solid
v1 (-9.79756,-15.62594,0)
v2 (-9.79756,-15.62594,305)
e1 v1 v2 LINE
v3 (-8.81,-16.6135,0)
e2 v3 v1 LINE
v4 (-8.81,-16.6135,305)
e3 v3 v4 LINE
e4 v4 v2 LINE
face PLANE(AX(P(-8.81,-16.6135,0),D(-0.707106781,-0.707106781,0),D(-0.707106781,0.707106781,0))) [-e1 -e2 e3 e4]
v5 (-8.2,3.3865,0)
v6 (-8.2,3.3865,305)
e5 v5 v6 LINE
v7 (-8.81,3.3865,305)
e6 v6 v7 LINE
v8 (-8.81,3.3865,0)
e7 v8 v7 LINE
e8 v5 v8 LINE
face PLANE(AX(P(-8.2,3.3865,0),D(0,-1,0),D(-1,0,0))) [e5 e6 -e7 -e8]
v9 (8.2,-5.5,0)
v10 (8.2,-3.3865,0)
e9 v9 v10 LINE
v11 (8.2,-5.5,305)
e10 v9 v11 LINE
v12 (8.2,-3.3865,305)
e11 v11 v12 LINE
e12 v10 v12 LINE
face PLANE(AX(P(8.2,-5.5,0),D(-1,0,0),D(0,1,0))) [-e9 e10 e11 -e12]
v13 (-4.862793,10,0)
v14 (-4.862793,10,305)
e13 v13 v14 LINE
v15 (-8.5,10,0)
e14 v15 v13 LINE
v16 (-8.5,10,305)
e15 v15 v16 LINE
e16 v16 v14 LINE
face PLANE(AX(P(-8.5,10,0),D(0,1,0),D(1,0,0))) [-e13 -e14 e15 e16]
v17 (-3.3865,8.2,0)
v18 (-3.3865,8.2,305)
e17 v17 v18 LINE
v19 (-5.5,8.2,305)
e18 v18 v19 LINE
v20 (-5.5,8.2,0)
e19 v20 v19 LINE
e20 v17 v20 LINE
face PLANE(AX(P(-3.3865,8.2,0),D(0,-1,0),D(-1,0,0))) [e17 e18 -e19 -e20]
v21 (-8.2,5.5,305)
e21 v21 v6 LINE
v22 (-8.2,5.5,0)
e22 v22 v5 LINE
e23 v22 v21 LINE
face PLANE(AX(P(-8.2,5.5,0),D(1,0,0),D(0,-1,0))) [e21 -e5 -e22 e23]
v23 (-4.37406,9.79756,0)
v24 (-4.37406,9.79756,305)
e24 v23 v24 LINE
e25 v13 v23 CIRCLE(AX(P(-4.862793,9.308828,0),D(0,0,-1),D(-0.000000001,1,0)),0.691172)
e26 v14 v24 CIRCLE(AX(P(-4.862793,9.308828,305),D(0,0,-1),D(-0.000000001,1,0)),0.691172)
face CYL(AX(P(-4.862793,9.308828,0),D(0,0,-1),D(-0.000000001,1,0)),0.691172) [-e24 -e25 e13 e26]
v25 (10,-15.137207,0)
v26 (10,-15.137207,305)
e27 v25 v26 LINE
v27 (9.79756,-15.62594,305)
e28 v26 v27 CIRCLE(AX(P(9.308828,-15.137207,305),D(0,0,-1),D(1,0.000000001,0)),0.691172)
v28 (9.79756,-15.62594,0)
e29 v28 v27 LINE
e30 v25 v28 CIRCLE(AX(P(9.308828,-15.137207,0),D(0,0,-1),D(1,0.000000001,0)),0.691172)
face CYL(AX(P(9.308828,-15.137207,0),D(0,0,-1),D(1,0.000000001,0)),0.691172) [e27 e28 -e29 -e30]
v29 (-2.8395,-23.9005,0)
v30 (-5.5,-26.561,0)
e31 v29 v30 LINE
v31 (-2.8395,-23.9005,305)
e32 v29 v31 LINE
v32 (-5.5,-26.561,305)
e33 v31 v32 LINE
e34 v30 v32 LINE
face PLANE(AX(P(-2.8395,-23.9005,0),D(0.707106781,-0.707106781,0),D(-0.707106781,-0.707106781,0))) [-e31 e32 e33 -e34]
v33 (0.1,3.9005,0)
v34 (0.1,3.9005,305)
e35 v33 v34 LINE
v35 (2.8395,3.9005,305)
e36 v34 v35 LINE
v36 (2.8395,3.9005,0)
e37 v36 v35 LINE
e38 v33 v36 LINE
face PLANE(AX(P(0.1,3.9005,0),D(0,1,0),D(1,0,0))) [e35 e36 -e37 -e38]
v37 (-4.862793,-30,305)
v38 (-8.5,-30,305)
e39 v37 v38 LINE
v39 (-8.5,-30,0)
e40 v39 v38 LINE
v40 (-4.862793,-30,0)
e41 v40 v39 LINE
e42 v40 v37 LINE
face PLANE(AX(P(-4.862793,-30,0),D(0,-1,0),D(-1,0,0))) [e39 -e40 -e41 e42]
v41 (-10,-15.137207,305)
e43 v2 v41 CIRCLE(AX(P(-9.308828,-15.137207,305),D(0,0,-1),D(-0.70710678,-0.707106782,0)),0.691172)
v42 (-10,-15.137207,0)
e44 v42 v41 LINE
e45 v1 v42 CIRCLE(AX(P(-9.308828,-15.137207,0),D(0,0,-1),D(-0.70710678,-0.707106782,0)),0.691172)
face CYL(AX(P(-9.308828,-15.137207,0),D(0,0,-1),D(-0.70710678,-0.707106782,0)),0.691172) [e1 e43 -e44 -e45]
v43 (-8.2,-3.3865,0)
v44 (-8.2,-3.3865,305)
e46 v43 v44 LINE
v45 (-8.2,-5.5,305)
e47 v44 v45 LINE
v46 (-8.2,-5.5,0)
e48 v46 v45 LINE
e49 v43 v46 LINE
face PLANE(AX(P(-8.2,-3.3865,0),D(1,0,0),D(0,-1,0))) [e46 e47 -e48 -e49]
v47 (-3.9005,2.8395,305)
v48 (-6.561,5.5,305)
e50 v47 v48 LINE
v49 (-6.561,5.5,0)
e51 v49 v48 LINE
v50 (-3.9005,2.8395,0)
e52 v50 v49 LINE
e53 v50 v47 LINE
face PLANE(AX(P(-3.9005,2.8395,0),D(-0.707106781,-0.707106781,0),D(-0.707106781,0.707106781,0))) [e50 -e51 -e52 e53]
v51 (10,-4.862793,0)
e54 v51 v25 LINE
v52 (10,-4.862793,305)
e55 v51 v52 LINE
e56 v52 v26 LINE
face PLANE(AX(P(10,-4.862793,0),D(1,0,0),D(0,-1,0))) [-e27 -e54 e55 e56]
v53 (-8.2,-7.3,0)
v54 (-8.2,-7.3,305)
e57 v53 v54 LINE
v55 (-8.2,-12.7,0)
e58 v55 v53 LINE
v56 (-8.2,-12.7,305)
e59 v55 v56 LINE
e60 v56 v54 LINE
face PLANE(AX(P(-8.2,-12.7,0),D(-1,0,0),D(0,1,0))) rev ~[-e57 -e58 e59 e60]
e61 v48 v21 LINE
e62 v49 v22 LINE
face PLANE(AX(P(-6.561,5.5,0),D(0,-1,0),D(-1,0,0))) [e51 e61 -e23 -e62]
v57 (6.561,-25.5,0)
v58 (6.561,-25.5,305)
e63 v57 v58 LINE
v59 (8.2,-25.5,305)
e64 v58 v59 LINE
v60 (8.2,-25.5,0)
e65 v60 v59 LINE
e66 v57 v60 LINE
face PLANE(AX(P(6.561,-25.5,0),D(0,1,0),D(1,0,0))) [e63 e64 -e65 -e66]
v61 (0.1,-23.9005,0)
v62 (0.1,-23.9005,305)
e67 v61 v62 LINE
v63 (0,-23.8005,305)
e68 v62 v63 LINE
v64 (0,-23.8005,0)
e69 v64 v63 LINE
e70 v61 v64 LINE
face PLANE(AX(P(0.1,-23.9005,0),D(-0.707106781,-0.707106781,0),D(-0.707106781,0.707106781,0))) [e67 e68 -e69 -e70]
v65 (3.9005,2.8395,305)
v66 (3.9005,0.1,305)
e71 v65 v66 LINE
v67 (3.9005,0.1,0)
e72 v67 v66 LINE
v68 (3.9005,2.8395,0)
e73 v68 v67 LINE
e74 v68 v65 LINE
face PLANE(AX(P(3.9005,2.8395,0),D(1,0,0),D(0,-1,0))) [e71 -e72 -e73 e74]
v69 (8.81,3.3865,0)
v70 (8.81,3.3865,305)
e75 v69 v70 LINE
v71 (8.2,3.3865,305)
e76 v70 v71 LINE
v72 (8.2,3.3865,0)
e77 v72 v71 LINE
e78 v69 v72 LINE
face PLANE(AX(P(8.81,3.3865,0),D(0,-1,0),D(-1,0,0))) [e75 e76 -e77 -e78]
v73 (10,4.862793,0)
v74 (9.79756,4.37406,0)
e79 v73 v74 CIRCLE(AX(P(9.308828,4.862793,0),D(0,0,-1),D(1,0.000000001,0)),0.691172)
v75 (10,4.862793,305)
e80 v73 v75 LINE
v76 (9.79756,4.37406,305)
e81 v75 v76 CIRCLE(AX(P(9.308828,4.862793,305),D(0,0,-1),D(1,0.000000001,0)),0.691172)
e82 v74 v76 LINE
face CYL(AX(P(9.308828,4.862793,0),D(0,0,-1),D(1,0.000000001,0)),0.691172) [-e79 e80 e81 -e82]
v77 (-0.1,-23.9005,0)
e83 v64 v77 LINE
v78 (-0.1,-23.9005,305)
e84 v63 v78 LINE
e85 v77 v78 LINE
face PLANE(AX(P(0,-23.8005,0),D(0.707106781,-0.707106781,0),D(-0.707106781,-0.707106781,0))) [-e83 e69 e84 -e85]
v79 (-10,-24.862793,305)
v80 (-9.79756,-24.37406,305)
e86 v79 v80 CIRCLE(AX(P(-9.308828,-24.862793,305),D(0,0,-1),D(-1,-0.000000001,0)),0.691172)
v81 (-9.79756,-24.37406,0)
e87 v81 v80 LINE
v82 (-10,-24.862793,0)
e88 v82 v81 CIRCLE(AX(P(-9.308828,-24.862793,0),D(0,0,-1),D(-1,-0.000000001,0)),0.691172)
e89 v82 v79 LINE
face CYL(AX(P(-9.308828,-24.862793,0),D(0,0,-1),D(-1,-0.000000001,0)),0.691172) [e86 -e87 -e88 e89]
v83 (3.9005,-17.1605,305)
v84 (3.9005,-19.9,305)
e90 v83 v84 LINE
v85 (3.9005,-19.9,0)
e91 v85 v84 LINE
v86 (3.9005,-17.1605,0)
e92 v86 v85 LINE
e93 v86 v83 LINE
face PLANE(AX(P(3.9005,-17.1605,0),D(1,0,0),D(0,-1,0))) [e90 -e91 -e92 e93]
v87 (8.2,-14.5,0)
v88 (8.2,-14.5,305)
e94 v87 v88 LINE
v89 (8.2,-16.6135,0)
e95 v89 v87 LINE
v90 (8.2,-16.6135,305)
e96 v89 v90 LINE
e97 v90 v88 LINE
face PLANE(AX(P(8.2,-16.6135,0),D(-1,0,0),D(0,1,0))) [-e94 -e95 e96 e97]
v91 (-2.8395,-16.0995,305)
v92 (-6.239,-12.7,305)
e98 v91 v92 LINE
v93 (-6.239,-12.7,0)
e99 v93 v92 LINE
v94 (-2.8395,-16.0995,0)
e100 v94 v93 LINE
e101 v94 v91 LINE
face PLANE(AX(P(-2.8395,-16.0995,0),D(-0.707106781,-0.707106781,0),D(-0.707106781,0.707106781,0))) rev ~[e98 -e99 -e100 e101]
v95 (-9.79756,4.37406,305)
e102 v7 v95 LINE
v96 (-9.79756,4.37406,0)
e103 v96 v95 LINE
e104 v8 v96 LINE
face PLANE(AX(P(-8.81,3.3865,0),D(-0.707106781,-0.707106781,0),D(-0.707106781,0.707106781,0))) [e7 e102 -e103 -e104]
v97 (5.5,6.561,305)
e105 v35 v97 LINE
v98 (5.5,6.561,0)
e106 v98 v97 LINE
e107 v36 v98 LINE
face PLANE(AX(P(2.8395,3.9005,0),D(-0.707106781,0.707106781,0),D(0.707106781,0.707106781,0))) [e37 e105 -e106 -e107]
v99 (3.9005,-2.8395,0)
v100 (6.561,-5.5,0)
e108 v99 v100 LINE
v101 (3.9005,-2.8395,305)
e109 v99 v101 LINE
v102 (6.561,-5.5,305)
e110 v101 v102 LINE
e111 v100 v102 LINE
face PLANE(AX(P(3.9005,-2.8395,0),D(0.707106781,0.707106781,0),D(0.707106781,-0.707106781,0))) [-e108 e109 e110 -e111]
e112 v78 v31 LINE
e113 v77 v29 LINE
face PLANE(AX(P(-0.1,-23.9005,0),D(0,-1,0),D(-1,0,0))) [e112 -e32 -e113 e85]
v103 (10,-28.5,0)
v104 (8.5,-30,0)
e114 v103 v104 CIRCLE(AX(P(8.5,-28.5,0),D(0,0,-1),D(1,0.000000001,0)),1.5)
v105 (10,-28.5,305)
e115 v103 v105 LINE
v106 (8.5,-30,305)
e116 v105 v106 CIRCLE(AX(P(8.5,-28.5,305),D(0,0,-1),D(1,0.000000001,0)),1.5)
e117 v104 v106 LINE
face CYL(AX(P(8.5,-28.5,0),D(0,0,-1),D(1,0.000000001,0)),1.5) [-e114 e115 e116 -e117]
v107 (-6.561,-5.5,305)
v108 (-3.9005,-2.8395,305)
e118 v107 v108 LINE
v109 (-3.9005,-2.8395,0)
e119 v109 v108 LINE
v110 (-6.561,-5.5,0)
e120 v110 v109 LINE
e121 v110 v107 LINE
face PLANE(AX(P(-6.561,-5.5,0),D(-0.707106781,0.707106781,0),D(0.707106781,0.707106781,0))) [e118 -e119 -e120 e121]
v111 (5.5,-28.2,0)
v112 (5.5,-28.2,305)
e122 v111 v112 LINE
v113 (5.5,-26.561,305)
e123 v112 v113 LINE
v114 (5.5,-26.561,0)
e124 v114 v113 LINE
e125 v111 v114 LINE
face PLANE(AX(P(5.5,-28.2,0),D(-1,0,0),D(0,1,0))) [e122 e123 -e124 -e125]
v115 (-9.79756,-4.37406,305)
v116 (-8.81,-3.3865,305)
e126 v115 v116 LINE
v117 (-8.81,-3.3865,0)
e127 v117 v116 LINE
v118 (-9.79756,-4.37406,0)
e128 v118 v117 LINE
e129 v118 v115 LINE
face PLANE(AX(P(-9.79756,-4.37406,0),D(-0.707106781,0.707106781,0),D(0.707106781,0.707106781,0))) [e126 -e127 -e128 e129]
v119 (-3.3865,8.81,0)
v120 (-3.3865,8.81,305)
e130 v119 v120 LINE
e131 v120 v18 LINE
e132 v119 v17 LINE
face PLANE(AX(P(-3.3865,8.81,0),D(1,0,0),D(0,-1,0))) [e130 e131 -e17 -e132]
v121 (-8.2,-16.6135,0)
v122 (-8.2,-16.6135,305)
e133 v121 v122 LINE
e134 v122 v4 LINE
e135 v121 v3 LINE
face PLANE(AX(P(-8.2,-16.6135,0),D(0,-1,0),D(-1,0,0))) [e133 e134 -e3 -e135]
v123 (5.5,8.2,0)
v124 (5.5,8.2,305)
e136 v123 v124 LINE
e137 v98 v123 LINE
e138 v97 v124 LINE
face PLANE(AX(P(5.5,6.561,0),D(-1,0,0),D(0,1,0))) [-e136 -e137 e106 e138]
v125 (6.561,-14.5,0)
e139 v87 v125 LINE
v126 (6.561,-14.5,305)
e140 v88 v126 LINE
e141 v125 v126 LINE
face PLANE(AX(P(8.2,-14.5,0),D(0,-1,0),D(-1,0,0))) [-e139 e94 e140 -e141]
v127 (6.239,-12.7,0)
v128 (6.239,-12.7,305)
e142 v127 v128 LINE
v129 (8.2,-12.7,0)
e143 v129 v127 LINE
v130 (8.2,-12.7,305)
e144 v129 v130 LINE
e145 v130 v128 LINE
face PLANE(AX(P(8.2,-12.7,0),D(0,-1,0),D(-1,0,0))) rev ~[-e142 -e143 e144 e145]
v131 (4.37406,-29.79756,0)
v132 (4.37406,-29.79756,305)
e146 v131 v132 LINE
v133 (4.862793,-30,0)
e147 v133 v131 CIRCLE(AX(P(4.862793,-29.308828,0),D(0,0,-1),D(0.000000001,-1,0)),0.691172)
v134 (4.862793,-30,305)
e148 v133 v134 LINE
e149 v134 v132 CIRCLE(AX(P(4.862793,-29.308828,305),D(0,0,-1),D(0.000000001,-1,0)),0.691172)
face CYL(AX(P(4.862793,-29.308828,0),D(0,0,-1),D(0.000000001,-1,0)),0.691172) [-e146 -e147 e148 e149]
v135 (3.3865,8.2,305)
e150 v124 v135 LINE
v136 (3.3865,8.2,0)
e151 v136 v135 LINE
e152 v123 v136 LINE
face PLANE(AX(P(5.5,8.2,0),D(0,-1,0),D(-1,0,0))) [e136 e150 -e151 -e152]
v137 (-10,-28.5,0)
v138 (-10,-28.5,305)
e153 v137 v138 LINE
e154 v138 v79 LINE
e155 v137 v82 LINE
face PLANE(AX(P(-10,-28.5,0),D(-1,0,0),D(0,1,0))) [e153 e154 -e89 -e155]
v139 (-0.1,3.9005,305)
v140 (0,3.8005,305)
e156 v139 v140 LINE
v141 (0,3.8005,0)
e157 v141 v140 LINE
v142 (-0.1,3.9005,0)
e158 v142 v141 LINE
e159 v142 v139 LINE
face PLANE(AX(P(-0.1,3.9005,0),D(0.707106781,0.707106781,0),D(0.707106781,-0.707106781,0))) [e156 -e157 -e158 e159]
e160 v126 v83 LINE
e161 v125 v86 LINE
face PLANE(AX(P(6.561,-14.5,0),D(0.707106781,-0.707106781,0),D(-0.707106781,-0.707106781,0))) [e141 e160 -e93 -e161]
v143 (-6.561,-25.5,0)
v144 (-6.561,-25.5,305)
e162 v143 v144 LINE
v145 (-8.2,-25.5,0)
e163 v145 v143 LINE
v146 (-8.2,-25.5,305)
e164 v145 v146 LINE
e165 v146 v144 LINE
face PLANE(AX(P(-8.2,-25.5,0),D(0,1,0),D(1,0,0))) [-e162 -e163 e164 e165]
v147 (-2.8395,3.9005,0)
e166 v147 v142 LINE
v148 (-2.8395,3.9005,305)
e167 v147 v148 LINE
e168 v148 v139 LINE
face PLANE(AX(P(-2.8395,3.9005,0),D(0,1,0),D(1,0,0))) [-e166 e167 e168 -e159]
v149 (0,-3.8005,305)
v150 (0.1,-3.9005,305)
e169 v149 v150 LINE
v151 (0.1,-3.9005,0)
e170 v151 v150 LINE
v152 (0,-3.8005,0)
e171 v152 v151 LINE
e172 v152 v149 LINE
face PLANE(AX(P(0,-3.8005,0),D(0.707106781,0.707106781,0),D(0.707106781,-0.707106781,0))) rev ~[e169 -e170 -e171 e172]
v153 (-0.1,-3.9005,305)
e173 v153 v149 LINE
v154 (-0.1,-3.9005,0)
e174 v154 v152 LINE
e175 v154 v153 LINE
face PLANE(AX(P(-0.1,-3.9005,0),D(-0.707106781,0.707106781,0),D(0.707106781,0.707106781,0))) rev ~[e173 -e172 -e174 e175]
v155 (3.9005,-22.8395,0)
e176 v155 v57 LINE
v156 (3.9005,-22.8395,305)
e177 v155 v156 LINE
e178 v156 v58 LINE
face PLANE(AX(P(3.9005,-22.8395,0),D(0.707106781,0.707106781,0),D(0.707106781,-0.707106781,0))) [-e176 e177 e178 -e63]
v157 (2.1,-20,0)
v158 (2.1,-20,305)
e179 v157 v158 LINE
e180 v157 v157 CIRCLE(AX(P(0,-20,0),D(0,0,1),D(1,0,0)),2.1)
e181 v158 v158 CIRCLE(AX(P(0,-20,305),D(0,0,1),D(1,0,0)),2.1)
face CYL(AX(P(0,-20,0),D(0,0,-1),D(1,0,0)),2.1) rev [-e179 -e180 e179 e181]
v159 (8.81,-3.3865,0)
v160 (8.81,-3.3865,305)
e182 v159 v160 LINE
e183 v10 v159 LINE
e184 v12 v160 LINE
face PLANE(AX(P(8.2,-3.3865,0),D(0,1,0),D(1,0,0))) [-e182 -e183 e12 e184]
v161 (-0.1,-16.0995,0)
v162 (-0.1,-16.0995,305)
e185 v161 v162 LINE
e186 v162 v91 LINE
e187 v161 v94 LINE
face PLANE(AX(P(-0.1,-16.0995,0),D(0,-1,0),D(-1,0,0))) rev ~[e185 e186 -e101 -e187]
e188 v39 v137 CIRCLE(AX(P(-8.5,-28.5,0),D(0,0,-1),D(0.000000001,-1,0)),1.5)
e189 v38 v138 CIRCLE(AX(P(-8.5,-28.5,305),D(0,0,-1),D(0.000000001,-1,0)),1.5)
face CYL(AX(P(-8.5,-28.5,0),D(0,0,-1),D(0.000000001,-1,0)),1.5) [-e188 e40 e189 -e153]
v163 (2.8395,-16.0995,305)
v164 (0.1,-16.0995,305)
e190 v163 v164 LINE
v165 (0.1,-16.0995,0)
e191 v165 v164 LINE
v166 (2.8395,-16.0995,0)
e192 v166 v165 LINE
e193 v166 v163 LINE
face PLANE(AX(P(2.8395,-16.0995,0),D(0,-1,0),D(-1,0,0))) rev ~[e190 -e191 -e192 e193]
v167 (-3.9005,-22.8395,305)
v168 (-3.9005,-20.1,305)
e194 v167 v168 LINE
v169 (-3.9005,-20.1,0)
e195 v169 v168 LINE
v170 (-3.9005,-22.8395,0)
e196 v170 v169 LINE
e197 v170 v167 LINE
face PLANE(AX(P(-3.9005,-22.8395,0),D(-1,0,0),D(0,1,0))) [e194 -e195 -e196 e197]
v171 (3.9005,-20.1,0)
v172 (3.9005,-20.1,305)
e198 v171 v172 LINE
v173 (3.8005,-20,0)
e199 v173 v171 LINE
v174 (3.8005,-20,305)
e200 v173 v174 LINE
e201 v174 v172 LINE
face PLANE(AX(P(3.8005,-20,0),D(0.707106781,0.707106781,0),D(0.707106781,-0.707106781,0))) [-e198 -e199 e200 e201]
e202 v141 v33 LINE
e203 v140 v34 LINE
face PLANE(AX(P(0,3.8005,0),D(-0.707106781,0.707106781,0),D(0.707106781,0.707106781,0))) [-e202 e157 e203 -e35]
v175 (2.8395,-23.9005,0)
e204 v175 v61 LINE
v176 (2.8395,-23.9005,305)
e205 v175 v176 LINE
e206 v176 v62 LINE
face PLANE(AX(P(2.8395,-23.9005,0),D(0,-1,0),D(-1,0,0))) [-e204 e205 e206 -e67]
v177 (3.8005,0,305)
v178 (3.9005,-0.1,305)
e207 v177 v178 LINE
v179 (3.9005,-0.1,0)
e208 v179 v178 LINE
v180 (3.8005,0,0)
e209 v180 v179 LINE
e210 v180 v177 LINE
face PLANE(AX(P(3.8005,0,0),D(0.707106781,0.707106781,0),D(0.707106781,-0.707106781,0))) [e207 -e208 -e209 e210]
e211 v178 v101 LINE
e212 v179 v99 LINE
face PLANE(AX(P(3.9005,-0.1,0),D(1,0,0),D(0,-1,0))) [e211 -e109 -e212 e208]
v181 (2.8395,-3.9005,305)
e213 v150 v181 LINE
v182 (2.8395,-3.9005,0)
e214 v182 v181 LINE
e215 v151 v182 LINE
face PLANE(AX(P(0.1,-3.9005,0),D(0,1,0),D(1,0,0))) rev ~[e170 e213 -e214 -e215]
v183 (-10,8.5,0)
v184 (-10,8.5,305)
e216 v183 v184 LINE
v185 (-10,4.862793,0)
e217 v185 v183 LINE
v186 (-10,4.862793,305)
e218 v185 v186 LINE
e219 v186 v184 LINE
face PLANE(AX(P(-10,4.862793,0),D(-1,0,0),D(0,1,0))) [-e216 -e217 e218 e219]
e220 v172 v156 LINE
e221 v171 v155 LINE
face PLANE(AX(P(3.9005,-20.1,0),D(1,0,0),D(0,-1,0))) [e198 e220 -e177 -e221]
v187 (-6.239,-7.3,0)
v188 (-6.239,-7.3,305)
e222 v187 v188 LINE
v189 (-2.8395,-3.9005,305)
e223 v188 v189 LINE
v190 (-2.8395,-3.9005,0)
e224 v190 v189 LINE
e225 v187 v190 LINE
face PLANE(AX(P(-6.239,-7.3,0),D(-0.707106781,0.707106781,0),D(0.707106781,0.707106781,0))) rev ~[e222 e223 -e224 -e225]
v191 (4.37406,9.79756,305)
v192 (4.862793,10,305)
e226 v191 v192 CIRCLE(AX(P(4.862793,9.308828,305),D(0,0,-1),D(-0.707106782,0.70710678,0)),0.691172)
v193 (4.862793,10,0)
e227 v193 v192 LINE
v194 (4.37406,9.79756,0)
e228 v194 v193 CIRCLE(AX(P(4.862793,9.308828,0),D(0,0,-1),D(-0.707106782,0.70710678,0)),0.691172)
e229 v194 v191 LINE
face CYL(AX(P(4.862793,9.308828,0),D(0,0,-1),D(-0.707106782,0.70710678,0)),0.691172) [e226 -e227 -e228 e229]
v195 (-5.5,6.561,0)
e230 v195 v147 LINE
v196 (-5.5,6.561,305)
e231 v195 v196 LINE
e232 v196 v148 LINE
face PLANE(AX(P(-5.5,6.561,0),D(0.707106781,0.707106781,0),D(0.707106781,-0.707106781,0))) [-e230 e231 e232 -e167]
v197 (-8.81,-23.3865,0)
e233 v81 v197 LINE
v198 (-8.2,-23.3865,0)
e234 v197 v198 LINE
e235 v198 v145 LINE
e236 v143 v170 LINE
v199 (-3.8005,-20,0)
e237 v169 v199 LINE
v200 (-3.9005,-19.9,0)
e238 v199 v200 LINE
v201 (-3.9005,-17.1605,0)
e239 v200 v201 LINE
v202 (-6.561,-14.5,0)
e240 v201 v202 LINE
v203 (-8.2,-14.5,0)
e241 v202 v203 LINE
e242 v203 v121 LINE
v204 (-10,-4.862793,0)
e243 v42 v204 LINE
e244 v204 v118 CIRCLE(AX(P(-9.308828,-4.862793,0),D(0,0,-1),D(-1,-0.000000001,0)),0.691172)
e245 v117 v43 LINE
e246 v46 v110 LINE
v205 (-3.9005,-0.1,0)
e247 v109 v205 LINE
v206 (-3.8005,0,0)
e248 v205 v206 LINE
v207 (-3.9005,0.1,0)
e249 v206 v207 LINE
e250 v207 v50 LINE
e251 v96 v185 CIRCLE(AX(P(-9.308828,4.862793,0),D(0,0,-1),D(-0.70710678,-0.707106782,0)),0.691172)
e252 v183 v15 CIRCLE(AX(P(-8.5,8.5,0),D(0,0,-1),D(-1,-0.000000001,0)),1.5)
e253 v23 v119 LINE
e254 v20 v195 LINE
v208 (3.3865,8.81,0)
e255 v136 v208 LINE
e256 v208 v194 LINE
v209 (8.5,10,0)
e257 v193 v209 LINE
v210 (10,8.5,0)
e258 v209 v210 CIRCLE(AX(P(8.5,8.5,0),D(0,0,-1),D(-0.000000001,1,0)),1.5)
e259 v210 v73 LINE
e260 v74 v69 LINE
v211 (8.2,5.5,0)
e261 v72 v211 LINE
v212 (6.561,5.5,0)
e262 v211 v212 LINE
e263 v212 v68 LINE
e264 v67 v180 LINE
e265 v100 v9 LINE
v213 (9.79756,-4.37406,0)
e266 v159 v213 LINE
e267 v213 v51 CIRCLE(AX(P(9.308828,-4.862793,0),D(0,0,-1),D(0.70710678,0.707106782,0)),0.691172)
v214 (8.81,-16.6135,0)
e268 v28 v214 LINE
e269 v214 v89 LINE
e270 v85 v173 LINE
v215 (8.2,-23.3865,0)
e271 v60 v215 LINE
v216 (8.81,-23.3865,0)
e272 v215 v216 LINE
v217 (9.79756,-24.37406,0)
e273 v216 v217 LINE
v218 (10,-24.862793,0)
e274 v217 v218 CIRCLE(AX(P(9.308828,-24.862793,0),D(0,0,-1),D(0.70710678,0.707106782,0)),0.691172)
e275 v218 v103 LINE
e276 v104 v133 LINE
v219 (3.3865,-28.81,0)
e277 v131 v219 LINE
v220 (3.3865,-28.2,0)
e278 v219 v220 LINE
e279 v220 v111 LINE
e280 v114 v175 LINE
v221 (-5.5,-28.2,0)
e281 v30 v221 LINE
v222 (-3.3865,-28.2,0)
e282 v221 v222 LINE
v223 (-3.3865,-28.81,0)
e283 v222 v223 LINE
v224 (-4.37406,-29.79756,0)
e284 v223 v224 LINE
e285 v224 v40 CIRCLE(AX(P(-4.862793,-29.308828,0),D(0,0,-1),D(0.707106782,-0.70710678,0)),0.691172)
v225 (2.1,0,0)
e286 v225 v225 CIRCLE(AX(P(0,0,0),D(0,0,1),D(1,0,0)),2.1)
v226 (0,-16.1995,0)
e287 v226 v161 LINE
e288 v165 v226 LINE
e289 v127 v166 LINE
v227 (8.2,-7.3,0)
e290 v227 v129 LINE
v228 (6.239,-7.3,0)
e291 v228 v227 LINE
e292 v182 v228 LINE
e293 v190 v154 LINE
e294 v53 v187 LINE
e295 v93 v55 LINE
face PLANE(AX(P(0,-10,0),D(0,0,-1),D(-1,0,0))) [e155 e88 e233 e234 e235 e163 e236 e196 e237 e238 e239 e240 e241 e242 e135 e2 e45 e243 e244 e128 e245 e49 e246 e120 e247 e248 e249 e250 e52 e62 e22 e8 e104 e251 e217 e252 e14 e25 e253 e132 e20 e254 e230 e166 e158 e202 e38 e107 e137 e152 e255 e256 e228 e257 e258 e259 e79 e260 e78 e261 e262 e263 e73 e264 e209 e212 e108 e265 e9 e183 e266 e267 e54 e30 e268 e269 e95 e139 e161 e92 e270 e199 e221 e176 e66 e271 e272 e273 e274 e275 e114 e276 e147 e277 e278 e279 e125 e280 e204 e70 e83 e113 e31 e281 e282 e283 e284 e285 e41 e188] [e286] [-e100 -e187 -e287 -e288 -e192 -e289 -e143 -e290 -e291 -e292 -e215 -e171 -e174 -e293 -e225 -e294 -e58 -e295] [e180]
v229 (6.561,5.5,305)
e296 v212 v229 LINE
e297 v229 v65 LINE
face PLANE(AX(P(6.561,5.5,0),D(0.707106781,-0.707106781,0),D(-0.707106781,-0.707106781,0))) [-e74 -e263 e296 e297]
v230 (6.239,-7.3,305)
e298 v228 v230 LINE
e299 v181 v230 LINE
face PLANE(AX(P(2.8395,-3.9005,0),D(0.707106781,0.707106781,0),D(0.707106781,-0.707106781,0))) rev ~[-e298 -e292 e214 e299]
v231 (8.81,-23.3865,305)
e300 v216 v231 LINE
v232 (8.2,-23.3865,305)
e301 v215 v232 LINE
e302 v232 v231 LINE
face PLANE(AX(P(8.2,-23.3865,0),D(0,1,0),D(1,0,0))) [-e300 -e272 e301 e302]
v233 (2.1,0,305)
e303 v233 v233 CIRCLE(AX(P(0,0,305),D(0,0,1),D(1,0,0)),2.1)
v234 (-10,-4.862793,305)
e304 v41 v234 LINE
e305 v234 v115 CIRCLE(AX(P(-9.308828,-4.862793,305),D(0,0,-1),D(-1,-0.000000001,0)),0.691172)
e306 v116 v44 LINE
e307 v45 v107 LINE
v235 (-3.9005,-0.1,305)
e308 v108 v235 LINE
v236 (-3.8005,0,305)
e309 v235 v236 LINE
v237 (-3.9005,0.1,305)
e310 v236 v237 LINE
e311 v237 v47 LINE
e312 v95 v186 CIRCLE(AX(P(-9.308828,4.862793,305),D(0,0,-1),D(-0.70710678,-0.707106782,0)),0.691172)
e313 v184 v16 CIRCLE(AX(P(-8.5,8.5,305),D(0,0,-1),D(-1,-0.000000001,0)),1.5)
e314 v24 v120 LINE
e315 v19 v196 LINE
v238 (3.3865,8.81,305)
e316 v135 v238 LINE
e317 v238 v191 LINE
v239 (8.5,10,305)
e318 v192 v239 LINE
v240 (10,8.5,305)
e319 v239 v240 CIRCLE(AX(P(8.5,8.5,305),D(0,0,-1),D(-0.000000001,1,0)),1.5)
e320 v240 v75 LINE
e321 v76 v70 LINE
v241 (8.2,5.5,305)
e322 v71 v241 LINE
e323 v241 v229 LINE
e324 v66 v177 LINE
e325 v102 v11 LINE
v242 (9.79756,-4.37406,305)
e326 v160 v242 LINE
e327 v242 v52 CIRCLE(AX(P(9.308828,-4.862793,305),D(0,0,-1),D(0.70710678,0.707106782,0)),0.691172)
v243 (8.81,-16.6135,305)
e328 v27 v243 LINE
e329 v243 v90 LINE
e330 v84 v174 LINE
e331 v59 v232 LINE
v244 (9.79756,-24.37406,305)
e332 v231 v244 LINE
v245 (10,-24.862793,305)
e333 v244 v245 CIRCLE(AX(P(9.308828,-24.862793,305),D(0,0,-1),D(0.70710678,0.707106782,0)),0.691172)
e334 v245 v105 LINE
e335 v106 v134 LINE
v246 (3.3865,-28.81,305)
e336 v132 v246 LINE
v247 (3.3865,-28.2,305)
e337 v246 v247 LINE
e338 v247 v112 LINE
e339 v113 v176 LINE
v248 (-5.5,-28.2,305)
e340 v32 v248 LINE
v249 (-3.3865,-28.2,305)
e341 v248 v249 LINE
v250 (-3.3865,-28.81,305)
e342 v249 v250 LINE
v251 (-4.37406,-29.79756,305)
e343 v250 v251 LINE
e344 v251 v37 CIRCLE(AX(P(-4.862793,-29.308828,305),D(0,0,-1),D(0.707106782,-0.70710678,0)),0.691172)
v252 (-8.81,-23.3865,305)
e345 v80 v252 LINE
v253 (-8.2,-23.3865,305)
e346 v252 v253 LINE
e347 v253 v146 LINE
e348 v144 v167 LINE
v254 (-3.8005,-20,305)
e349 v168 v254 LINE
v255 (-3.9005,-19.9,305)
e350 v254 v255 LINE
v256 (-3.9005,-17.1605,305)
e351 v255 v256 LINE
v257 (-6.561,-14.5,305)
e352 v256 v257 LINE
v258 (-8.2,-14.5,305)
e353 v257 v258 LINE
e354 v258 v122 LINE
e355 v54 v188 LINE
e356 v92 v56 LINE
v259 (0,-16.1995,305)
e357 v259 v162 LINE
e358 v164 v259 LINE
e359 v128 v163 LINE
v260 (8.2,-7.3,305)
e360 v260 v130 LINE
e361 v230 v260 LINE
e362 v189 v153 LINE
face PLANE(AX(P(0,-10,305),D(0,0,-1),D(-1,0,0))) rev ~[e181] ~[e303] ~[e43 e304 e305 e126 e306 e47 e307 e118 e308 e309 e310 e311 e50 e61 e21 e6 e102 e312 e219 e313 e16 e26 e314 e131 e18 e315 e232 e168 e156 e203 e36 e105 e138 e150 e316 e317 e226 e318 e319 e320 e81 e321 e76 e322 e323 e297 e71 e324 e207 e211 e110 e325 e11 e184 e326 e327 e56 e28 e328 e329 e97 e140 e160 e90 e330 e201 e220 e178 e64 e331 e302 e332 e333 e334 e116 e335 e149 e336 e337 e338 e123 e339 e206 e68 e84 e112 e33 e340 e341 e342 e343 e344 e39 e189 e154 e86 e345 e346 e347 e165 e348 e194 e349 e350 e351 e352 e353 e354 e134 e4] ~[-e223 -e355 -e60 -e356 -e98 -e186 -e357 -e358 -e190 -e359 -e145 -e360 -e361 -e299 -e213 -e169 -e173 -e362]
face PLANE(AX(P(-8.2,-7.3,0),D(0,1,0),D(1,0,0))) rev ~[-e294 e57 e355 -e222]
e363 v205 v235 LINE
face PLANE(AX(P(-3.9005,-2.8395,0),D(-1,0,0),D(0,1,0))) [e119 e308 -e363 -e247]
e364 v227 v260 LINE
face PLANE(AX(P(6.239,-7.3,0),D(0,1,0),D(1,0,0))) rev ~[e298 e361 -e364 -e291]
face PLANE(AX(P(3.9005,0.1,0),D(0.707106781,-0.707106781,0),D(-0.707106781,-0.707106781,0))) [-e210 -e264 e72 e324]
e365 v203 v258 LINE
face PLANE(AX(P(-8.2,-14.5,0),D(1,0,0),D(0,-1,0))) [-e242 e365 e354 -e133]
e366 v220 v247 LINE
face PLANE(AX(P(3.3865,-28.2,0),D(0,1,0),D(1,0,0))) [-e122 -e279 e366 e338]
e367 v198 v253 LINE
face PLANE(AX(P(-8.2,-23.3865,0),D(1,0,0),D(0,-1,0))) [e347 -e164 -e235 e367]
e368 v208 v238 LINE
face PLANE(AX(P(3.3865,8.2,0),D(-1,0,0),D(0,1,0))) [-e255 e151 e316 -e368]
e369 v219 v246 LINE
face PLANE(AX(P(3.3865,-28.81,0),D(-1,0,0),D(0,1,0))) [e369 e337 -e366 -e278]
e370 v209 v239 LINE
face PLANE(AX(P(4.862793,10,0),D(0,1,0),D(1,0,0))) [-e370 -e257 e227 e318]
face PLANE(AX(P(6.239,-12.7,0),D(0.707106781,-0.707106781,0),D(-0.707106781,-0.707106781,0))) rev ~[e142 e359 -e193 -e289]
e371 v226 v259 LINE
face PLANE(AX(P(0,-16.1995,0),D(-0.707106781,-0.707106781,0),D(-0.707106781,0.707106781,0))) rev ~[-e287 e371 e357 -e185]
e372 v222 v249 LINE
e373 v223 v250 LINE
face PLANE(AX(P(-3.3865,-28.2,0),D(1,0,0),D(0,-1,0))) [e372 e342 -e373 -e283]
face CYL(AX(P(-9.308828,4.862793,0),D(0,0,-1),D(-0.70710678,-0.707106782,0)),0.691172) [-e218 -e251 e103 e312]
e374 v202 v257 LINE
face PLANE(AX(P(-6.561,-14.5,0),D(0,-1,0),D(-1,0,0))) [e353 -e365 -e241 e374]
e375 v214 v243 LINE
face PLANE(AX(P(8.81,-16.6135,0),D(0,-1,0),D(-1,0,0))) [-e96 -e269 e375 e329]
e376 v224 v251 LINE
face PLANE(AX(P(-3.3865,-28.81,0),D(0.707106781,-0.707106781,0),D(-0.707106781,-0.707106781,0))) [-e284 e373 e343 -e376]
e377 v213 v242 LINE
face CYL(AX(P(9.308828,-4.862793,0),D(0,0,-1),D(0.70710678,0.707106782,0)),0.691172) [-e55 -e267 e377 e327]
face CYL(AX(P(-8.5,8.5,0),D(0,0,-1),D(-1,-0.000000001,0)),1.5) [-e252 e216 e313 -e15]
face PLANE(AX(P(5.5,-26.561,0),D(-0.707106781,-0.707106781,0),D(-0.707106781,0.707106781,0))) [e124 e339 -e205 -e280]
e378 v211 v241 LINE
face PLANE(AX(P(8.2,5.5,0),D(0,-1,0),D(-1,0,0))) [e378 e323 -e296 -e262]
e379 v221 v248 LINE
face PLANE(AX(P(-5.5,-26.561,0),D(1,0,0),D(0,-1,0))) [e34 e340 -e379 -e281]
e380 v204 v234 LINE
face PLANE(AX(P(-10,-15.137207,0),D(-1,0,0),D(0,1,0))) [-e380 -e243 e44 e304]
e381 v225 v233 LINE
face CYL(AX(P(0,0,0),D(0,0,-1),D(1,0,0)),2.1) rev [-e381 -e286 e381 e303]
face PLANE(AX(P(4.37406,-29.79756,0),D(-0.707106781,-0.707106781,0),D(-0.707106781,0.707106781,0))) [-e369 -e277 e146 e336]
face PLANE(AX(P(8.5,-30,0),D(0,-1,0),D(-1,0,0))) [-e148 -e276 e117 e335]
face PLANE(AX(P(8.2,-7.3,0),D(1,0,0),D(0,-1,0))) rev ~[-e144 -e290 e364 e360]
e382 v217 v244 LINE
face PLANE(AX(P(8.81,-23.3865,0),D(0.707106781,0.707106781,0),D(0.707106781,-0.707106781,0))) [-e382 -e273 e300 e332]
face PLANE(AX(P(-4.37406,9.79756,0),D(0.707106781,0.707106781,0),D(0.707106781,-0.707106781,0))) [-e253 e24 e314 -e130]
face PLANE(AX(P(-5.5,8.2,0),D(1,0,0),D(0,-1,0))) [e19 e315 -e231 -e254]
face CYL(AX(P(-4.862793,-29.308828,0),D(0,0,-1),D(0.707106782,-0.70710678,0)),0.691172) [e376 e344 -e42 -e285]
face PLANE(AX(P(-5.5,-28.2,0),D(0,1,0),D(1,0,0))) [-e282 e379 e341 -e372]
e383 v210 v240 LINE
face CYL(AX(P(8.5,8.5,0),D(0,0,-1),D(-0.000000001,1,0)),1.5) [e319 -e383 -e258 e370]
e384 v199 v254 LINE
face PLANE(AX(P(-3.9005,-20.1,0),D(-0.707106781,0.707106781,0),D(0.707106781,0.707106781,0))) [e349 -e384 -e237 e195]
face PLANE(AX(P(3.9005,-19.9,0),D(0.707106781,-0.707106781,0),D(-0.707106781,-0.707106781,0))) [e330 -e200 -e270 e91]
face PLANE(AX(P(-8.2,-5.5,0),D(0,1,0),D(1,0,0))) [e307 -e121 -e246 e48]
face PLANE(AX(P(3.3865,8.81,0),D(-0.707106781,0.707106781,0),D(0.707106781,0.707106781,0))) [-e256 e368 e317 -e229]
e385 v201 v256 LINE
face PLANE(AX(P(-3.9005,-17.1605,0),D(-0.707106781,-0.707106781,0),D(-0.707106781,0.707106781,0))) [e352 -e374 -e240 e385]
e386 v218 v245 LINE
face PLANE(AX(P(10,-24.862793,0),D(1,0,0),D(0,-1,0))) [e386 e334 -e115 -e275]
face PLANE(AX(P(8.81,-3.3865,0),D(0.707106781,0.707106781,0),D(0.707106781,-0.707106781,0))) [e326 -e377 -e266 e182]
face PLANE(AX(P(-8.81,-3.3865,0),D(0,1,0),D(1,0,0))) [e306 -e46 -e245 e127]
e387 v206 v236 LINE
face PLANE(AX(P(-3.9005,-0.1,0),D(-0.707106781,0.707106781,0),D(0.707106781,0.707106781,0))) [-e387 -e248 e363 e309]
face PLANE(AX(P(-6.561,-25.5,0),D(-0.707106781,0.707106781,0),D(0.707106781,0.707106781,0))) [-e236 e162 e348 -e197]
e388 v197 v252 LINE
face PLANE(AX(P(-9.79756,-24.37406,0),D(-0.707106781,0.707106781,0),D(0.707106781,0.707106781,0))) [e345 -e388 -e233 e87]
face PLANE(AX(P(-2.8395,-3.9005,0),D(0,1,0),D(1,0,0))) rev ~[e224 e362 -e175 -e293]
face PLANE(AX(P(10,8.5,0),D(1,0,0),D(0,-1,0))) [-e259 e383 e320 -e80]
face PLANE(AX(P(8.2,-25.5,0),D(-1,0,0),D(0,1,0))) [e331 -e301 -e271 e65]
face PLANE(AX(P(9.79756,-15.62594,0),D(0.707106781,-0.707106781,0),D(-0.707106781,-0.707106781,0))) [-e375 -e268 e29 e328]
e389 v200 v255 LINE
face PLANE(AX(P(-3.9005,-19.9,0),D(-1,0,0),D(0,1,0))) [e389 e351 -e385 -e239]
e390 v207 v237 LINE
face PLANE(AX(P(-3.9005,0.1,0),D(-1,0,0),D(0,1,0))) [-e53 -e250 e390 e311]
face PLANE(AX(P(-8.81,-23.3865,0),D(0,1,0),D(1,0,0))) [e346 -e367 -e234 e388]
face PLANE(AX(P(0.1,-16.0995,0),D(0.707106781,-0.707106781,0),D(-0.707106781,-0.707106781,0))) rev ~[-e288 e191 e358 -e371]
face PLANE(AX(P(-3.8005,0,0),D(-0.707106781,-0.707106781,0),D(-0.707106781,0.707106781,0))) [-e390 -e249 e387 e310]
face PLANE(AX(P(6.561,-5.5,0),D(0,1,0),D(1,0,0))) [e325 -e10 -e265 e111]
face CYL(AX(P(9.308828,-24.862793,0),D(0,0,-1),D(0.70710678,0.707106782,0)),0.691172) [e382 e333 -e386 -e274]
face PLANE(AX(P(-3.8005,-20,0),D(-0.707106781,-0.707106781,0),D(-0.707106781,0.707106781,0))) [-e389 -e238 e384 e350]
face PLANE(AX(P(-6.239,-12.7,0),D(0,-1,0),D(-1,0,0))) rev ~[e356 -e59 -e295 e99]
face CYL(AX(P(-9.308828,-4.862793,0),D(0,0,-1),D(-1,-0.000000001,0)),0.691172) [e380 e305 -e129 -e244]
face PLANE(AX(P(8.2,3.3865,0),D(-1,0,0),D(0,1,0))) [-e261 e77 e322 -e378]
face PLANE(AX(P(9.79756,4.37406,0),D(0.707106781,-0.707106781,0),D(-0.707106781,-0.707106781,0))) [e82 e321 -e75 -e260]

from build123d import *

# Parameters (mm, degrees)
SKETCH1_R           = 2.1
BOSS_EXTRUDE2_DEPTH = 305


with BuildPart() as part:
    # Sketch1 → Boss-Extrude2 (new body)
    with BuildSketch(Plane.XY):
        with BuildLine():
            Line((-8.5, 10), (-4.862792737, 10))
            ThreePointArc((-4.862792737, 10), (-4.598292737, 9.947387679), (-4.374060464, 9.797560464))
            Line((-4.374060464, 9.797560464), (-3.3865, 8.81))
            Line((-3.3865, 8.81), (-3.3865, 8.2))
            Line((-3.3865, 8.2), (-5.5, 8.2))
            Line((-5.5, 8.2), (-5.5, 6.561))
            Line((-5.5, 6.561), (-2.8395, 3.9005))
            Line((-2.8395, 3.9005), (-0.1, 3.9005))
            Line((-0.1, 3.9005), (0, 3.8005))
            Line((0, 3.8005), (0.1, 3.9005))
            Line((0.1, 3.9005), (2.8395, 3.9005))
            Line((2.8395, 3.9005), (5.5, 6.561))
            Line((5.5, 6.561), (5.5, 8.2))
            Line((5.5, 8.2), (3.3865, 8.2))
            Line((3.3865, 8.2), (3.3865, 8.81))
            Line((3.3865, 8.81), (4.374060464, 9.797560464))
            ThreePointArc((4.374060464, 9.797560464), (4.598292737, 9.947387679), (4.862792737, 10))
            Line((4.862792737, 10), (8.5, 10))
            ThreePointArc((8.5, 10), (9.560660172, 9.560660172), (10, 8.5))
            Line((10, 8.5), (10, 4.862792737))
            ThreePointArc((10, 4.862792737), (9.947387679, 4.598292737), (9.797560464, 4.374060464))
            Line((9.797560464, 4.374060464), (8.81, 3.3865))
            Line((8.81, 3.3865), (8.2, 3.3865))
            Line((8.2, 3.3865), (8.2, 5.5))
            Line((8.2, 5.5), (6.561, 5.5))
            Line((6.561, 5.5), (3.9005, 2.8395))
            Line((3.9005, 2.8395), (3.9005, 0.1))
            Line((3.9005, 0.1), (3.8005, 0))
            Line((3.8005, 0), (3.9005, -0.1))
            Line((3.9005, -0.1), (3.9005, -2.8395))
            Line((3.9005, -2.8395), (6.561, -5.5))
            Line((6.561, -5.5), (8.2, -5.5))
            Line((8.2, -5.5), (8.2, -3.3865))
            Line((8.2, -3.3865), (8.81, -3.3865))
            Line((8.81, -3.3865), (9.797560464, -4.374060464))
            ThreePointArc((9.797560464, -4.374060464), (9.947387679, -4.598292737), (10, -4.862792737))
            Line((10, -4.862792737), (10, -15.137207263))
            ThreePointArc((10, -15.137207263), (9.947387679, -15.401707263), (9.797560464, -15.625939536))
            Line((9.797560464, -15.625939536), (8.81, -16.6135))
            Line((8.81, -16.6135), (8.2, -16.6135))
            Line((8.2, -16.6135), (8.2, -14.5))
            Line((8.2, -14.5), (6.561, -14.5))
            Line((6.561, -14.5), (3.9005, -17.1605))
            Line((3.9005, -17.1605), (3.9005, -19.9))
            Line((3.9005, -19.9), (3.8005, -20))
            Line((3.8005, -20), (3.9005, -20.1))
            Line((3.9005, -20.1), (3.9005, -22.8395))
            Line((3.9005, -22.8395), (6.561, -25.5))
            Line((6.561, -25.5), (8.2, -25.5))
            Line((8.2, -25.5), (8.2, -23.3865))
            Line((8.2, -23.3865), (8.81, -23.3865))
            Line((8.81, -23.3865), (9.797560464, -24.374060464))
            ThreePointArc((9.797560464, -24.374060464), (9.947387679, -24.598292737), (10, -24.862792737))
            Line((10, -24.862792737), (10, -28.5))
            ThreePointArc((10, -28.5), (9.560660172, -29.560660172), (8.5, -30))
            Line((8.5, -30), (4.862792737, -30))
            ThreePointArc((4.862792737, -30), (4.598292737, -29.947387679), (4.374060464, -29.797560464))
            Line((4.374060464, -29.797560464), (3.3865, -28.81))
            Line((3.3865, -28.81), (3.3865, -28.2))
            Line((3.3865, -28.2), (5.5, -28.2))
            Line((5.5, -28.2), (5.5, -26.561))
            Line((5.5, -26.561), (2.8395, -23.9005))
            Line((2.8395, -23.9005), (0.1, -23.9005))
            Line((0.1, -23.9005), (0, -23.8005))
            Line((0, -23.8005), (-0.1, -23.9005))
            Line((-0.1, -23.9005), (-2.8395, -23.9005))
            Line((-2.8395, -23.9005), (-5.5, -26.561))
            Line((-5.5, -26.561), (-5.5, -28.2))
            Line((-5.5, -28.2), (-3.3865, -28.2))
            Line((-3.3865, -28.2), (-3.3865, -28.81))
            Line((-3.3865, -28.81), (-4.374060464, -29.797560464))
            ThreePointArc((-4.374060464, -29.797560464), (-4.598292737, -29.947387679), (-4.862792737, -30))
            Line((-4.862792737, -30), (-8.5, -30))
            ThreePointArc((-8.5, -30), (-9.560660172, -29.560660172), (-10, -28.5))
            Line((-10, -28.5), (-10, -24.862792737))
            ThreePointArc((-10, -24.862792737), (-9.947387679, -24.598292737), (-9.797560464, -24.374060464))
            Line((-9.797560464, -24.374060464), (-8.81, -23.3865))
            Line((-8.81, -23.3865), (-8.2, -23.3865))
            Line((-8.2, -23.3865), (-8.2, -25.5))
            Line((-8.2, -25.5), (-6.561, -25.5))
            Line((-6.561, -25.5), (-3.9005, -22.8395))
            Line((-3.9005, -22.8395), (-3.9005, -20.1))
            Line((-3.9005, -20.1), (-3.8005, -20))
            Line((-3.8005, -20), (-3.9005, -19.9))
            Line((-3.9005, -19.9), (-3.9005, -17.1605))
            Line((-3.9005, -17.1605), (-6.561, -14.5))
            Line((-6.561, -14.5), (-8.2, -14.5))
            Line((-8.2, -14.5), (-8.2, -16.6135))
            Line((-8.2, -16.6135), (-8.81, -16.6135))
            Line((-8.81, -16.6135), (-9.797560464, -15.625939536))
            ThreePointArc((-9.797560464, -15.625939536), (-9.947387679, -15.401707263), (-10, -15.137207263))
            Line((-10, -15.137207263), (-10, -4.862792737))
            ThreePointArc((-10, -4.862792737), (-9.947387679, -4.598292737), (-9.797560464, -4.374060464))
            Line((-9.797560464, -4.374060464), (-8.81, -3.3865))
            Line((-8.81, -3.3865), (-8.2, -3.3865))
            Line((-8.2, -3.3865), (-8.2, -5.5))
            Line((-8.2, -5.5), (-6.561, -5.5))
            Line((-6.561, -5.5), (-3.9005, -2.8395))
            Line((-3.9005, -2.8395), (-3.9005, -0.1))
            Line((-3.9005, -0.1), (-3.8005, 0))
            Line((-3.8005, 0), (-3.9005, 0.1))
            Line((-3.9005, 0.1), (-3.9005, 2.8395))
            Line((-3.9005, 2.8395), (-6.561, 5.5))
            Line((-6.561, 5.5), (-8.2, 5.5))
            Line((-8.2, 5.5), (-8.2, 3.3865))
            Line((-8.2, 3.3865), (-8.81, 3.3865))
            Line((-8.81, 3.3865), (-9.797560464, 4.374060464))
            ThreePointArc((-9.797560464, 4.374060464), (-9.947387679, 4.598292737), (-10, 4.862792737))
            Line((-10, 4.862792737), (-10, 8.5))
            ThreePointArc((-10, 8.5), (-9.560660172, 9.560660172), (-8.5, 10))
        make_face()
        Circle(SKETCH1_R, mode=Mode.SUBTRACT)
        with Locations((0, -20)):
            Circle(SKETCH1_R, mode=Mode.SUBTRACT)
        Polygon((-8.2, -12.7), (-8.2, -7.3), (-6.239, -7.3), (-5.5, -6.561), (-2.8395, -3.9005), (-0.1, -3.9005), (0, -3.8005), (0.1, -3.9005), (2.8395, -3.9005), (5.5, -6.561), (6.239, -7.3), (8.2, -7.3), (8.2, -12.7), (6.239, -12.7), (5.5, -13.439), (2.8395, -16.0995), (0.1, -16.0995), (0, -16.1995), (-0.1, -16.0995), (-2.8395, -16.0995), (-5.5, -13.439), (-6.239, -12.7), align=None, mode=Mode.SUBTRACT)
    extrude(amount=BOSS_EXTRUDE2_DEPTH)


solid = part.part
